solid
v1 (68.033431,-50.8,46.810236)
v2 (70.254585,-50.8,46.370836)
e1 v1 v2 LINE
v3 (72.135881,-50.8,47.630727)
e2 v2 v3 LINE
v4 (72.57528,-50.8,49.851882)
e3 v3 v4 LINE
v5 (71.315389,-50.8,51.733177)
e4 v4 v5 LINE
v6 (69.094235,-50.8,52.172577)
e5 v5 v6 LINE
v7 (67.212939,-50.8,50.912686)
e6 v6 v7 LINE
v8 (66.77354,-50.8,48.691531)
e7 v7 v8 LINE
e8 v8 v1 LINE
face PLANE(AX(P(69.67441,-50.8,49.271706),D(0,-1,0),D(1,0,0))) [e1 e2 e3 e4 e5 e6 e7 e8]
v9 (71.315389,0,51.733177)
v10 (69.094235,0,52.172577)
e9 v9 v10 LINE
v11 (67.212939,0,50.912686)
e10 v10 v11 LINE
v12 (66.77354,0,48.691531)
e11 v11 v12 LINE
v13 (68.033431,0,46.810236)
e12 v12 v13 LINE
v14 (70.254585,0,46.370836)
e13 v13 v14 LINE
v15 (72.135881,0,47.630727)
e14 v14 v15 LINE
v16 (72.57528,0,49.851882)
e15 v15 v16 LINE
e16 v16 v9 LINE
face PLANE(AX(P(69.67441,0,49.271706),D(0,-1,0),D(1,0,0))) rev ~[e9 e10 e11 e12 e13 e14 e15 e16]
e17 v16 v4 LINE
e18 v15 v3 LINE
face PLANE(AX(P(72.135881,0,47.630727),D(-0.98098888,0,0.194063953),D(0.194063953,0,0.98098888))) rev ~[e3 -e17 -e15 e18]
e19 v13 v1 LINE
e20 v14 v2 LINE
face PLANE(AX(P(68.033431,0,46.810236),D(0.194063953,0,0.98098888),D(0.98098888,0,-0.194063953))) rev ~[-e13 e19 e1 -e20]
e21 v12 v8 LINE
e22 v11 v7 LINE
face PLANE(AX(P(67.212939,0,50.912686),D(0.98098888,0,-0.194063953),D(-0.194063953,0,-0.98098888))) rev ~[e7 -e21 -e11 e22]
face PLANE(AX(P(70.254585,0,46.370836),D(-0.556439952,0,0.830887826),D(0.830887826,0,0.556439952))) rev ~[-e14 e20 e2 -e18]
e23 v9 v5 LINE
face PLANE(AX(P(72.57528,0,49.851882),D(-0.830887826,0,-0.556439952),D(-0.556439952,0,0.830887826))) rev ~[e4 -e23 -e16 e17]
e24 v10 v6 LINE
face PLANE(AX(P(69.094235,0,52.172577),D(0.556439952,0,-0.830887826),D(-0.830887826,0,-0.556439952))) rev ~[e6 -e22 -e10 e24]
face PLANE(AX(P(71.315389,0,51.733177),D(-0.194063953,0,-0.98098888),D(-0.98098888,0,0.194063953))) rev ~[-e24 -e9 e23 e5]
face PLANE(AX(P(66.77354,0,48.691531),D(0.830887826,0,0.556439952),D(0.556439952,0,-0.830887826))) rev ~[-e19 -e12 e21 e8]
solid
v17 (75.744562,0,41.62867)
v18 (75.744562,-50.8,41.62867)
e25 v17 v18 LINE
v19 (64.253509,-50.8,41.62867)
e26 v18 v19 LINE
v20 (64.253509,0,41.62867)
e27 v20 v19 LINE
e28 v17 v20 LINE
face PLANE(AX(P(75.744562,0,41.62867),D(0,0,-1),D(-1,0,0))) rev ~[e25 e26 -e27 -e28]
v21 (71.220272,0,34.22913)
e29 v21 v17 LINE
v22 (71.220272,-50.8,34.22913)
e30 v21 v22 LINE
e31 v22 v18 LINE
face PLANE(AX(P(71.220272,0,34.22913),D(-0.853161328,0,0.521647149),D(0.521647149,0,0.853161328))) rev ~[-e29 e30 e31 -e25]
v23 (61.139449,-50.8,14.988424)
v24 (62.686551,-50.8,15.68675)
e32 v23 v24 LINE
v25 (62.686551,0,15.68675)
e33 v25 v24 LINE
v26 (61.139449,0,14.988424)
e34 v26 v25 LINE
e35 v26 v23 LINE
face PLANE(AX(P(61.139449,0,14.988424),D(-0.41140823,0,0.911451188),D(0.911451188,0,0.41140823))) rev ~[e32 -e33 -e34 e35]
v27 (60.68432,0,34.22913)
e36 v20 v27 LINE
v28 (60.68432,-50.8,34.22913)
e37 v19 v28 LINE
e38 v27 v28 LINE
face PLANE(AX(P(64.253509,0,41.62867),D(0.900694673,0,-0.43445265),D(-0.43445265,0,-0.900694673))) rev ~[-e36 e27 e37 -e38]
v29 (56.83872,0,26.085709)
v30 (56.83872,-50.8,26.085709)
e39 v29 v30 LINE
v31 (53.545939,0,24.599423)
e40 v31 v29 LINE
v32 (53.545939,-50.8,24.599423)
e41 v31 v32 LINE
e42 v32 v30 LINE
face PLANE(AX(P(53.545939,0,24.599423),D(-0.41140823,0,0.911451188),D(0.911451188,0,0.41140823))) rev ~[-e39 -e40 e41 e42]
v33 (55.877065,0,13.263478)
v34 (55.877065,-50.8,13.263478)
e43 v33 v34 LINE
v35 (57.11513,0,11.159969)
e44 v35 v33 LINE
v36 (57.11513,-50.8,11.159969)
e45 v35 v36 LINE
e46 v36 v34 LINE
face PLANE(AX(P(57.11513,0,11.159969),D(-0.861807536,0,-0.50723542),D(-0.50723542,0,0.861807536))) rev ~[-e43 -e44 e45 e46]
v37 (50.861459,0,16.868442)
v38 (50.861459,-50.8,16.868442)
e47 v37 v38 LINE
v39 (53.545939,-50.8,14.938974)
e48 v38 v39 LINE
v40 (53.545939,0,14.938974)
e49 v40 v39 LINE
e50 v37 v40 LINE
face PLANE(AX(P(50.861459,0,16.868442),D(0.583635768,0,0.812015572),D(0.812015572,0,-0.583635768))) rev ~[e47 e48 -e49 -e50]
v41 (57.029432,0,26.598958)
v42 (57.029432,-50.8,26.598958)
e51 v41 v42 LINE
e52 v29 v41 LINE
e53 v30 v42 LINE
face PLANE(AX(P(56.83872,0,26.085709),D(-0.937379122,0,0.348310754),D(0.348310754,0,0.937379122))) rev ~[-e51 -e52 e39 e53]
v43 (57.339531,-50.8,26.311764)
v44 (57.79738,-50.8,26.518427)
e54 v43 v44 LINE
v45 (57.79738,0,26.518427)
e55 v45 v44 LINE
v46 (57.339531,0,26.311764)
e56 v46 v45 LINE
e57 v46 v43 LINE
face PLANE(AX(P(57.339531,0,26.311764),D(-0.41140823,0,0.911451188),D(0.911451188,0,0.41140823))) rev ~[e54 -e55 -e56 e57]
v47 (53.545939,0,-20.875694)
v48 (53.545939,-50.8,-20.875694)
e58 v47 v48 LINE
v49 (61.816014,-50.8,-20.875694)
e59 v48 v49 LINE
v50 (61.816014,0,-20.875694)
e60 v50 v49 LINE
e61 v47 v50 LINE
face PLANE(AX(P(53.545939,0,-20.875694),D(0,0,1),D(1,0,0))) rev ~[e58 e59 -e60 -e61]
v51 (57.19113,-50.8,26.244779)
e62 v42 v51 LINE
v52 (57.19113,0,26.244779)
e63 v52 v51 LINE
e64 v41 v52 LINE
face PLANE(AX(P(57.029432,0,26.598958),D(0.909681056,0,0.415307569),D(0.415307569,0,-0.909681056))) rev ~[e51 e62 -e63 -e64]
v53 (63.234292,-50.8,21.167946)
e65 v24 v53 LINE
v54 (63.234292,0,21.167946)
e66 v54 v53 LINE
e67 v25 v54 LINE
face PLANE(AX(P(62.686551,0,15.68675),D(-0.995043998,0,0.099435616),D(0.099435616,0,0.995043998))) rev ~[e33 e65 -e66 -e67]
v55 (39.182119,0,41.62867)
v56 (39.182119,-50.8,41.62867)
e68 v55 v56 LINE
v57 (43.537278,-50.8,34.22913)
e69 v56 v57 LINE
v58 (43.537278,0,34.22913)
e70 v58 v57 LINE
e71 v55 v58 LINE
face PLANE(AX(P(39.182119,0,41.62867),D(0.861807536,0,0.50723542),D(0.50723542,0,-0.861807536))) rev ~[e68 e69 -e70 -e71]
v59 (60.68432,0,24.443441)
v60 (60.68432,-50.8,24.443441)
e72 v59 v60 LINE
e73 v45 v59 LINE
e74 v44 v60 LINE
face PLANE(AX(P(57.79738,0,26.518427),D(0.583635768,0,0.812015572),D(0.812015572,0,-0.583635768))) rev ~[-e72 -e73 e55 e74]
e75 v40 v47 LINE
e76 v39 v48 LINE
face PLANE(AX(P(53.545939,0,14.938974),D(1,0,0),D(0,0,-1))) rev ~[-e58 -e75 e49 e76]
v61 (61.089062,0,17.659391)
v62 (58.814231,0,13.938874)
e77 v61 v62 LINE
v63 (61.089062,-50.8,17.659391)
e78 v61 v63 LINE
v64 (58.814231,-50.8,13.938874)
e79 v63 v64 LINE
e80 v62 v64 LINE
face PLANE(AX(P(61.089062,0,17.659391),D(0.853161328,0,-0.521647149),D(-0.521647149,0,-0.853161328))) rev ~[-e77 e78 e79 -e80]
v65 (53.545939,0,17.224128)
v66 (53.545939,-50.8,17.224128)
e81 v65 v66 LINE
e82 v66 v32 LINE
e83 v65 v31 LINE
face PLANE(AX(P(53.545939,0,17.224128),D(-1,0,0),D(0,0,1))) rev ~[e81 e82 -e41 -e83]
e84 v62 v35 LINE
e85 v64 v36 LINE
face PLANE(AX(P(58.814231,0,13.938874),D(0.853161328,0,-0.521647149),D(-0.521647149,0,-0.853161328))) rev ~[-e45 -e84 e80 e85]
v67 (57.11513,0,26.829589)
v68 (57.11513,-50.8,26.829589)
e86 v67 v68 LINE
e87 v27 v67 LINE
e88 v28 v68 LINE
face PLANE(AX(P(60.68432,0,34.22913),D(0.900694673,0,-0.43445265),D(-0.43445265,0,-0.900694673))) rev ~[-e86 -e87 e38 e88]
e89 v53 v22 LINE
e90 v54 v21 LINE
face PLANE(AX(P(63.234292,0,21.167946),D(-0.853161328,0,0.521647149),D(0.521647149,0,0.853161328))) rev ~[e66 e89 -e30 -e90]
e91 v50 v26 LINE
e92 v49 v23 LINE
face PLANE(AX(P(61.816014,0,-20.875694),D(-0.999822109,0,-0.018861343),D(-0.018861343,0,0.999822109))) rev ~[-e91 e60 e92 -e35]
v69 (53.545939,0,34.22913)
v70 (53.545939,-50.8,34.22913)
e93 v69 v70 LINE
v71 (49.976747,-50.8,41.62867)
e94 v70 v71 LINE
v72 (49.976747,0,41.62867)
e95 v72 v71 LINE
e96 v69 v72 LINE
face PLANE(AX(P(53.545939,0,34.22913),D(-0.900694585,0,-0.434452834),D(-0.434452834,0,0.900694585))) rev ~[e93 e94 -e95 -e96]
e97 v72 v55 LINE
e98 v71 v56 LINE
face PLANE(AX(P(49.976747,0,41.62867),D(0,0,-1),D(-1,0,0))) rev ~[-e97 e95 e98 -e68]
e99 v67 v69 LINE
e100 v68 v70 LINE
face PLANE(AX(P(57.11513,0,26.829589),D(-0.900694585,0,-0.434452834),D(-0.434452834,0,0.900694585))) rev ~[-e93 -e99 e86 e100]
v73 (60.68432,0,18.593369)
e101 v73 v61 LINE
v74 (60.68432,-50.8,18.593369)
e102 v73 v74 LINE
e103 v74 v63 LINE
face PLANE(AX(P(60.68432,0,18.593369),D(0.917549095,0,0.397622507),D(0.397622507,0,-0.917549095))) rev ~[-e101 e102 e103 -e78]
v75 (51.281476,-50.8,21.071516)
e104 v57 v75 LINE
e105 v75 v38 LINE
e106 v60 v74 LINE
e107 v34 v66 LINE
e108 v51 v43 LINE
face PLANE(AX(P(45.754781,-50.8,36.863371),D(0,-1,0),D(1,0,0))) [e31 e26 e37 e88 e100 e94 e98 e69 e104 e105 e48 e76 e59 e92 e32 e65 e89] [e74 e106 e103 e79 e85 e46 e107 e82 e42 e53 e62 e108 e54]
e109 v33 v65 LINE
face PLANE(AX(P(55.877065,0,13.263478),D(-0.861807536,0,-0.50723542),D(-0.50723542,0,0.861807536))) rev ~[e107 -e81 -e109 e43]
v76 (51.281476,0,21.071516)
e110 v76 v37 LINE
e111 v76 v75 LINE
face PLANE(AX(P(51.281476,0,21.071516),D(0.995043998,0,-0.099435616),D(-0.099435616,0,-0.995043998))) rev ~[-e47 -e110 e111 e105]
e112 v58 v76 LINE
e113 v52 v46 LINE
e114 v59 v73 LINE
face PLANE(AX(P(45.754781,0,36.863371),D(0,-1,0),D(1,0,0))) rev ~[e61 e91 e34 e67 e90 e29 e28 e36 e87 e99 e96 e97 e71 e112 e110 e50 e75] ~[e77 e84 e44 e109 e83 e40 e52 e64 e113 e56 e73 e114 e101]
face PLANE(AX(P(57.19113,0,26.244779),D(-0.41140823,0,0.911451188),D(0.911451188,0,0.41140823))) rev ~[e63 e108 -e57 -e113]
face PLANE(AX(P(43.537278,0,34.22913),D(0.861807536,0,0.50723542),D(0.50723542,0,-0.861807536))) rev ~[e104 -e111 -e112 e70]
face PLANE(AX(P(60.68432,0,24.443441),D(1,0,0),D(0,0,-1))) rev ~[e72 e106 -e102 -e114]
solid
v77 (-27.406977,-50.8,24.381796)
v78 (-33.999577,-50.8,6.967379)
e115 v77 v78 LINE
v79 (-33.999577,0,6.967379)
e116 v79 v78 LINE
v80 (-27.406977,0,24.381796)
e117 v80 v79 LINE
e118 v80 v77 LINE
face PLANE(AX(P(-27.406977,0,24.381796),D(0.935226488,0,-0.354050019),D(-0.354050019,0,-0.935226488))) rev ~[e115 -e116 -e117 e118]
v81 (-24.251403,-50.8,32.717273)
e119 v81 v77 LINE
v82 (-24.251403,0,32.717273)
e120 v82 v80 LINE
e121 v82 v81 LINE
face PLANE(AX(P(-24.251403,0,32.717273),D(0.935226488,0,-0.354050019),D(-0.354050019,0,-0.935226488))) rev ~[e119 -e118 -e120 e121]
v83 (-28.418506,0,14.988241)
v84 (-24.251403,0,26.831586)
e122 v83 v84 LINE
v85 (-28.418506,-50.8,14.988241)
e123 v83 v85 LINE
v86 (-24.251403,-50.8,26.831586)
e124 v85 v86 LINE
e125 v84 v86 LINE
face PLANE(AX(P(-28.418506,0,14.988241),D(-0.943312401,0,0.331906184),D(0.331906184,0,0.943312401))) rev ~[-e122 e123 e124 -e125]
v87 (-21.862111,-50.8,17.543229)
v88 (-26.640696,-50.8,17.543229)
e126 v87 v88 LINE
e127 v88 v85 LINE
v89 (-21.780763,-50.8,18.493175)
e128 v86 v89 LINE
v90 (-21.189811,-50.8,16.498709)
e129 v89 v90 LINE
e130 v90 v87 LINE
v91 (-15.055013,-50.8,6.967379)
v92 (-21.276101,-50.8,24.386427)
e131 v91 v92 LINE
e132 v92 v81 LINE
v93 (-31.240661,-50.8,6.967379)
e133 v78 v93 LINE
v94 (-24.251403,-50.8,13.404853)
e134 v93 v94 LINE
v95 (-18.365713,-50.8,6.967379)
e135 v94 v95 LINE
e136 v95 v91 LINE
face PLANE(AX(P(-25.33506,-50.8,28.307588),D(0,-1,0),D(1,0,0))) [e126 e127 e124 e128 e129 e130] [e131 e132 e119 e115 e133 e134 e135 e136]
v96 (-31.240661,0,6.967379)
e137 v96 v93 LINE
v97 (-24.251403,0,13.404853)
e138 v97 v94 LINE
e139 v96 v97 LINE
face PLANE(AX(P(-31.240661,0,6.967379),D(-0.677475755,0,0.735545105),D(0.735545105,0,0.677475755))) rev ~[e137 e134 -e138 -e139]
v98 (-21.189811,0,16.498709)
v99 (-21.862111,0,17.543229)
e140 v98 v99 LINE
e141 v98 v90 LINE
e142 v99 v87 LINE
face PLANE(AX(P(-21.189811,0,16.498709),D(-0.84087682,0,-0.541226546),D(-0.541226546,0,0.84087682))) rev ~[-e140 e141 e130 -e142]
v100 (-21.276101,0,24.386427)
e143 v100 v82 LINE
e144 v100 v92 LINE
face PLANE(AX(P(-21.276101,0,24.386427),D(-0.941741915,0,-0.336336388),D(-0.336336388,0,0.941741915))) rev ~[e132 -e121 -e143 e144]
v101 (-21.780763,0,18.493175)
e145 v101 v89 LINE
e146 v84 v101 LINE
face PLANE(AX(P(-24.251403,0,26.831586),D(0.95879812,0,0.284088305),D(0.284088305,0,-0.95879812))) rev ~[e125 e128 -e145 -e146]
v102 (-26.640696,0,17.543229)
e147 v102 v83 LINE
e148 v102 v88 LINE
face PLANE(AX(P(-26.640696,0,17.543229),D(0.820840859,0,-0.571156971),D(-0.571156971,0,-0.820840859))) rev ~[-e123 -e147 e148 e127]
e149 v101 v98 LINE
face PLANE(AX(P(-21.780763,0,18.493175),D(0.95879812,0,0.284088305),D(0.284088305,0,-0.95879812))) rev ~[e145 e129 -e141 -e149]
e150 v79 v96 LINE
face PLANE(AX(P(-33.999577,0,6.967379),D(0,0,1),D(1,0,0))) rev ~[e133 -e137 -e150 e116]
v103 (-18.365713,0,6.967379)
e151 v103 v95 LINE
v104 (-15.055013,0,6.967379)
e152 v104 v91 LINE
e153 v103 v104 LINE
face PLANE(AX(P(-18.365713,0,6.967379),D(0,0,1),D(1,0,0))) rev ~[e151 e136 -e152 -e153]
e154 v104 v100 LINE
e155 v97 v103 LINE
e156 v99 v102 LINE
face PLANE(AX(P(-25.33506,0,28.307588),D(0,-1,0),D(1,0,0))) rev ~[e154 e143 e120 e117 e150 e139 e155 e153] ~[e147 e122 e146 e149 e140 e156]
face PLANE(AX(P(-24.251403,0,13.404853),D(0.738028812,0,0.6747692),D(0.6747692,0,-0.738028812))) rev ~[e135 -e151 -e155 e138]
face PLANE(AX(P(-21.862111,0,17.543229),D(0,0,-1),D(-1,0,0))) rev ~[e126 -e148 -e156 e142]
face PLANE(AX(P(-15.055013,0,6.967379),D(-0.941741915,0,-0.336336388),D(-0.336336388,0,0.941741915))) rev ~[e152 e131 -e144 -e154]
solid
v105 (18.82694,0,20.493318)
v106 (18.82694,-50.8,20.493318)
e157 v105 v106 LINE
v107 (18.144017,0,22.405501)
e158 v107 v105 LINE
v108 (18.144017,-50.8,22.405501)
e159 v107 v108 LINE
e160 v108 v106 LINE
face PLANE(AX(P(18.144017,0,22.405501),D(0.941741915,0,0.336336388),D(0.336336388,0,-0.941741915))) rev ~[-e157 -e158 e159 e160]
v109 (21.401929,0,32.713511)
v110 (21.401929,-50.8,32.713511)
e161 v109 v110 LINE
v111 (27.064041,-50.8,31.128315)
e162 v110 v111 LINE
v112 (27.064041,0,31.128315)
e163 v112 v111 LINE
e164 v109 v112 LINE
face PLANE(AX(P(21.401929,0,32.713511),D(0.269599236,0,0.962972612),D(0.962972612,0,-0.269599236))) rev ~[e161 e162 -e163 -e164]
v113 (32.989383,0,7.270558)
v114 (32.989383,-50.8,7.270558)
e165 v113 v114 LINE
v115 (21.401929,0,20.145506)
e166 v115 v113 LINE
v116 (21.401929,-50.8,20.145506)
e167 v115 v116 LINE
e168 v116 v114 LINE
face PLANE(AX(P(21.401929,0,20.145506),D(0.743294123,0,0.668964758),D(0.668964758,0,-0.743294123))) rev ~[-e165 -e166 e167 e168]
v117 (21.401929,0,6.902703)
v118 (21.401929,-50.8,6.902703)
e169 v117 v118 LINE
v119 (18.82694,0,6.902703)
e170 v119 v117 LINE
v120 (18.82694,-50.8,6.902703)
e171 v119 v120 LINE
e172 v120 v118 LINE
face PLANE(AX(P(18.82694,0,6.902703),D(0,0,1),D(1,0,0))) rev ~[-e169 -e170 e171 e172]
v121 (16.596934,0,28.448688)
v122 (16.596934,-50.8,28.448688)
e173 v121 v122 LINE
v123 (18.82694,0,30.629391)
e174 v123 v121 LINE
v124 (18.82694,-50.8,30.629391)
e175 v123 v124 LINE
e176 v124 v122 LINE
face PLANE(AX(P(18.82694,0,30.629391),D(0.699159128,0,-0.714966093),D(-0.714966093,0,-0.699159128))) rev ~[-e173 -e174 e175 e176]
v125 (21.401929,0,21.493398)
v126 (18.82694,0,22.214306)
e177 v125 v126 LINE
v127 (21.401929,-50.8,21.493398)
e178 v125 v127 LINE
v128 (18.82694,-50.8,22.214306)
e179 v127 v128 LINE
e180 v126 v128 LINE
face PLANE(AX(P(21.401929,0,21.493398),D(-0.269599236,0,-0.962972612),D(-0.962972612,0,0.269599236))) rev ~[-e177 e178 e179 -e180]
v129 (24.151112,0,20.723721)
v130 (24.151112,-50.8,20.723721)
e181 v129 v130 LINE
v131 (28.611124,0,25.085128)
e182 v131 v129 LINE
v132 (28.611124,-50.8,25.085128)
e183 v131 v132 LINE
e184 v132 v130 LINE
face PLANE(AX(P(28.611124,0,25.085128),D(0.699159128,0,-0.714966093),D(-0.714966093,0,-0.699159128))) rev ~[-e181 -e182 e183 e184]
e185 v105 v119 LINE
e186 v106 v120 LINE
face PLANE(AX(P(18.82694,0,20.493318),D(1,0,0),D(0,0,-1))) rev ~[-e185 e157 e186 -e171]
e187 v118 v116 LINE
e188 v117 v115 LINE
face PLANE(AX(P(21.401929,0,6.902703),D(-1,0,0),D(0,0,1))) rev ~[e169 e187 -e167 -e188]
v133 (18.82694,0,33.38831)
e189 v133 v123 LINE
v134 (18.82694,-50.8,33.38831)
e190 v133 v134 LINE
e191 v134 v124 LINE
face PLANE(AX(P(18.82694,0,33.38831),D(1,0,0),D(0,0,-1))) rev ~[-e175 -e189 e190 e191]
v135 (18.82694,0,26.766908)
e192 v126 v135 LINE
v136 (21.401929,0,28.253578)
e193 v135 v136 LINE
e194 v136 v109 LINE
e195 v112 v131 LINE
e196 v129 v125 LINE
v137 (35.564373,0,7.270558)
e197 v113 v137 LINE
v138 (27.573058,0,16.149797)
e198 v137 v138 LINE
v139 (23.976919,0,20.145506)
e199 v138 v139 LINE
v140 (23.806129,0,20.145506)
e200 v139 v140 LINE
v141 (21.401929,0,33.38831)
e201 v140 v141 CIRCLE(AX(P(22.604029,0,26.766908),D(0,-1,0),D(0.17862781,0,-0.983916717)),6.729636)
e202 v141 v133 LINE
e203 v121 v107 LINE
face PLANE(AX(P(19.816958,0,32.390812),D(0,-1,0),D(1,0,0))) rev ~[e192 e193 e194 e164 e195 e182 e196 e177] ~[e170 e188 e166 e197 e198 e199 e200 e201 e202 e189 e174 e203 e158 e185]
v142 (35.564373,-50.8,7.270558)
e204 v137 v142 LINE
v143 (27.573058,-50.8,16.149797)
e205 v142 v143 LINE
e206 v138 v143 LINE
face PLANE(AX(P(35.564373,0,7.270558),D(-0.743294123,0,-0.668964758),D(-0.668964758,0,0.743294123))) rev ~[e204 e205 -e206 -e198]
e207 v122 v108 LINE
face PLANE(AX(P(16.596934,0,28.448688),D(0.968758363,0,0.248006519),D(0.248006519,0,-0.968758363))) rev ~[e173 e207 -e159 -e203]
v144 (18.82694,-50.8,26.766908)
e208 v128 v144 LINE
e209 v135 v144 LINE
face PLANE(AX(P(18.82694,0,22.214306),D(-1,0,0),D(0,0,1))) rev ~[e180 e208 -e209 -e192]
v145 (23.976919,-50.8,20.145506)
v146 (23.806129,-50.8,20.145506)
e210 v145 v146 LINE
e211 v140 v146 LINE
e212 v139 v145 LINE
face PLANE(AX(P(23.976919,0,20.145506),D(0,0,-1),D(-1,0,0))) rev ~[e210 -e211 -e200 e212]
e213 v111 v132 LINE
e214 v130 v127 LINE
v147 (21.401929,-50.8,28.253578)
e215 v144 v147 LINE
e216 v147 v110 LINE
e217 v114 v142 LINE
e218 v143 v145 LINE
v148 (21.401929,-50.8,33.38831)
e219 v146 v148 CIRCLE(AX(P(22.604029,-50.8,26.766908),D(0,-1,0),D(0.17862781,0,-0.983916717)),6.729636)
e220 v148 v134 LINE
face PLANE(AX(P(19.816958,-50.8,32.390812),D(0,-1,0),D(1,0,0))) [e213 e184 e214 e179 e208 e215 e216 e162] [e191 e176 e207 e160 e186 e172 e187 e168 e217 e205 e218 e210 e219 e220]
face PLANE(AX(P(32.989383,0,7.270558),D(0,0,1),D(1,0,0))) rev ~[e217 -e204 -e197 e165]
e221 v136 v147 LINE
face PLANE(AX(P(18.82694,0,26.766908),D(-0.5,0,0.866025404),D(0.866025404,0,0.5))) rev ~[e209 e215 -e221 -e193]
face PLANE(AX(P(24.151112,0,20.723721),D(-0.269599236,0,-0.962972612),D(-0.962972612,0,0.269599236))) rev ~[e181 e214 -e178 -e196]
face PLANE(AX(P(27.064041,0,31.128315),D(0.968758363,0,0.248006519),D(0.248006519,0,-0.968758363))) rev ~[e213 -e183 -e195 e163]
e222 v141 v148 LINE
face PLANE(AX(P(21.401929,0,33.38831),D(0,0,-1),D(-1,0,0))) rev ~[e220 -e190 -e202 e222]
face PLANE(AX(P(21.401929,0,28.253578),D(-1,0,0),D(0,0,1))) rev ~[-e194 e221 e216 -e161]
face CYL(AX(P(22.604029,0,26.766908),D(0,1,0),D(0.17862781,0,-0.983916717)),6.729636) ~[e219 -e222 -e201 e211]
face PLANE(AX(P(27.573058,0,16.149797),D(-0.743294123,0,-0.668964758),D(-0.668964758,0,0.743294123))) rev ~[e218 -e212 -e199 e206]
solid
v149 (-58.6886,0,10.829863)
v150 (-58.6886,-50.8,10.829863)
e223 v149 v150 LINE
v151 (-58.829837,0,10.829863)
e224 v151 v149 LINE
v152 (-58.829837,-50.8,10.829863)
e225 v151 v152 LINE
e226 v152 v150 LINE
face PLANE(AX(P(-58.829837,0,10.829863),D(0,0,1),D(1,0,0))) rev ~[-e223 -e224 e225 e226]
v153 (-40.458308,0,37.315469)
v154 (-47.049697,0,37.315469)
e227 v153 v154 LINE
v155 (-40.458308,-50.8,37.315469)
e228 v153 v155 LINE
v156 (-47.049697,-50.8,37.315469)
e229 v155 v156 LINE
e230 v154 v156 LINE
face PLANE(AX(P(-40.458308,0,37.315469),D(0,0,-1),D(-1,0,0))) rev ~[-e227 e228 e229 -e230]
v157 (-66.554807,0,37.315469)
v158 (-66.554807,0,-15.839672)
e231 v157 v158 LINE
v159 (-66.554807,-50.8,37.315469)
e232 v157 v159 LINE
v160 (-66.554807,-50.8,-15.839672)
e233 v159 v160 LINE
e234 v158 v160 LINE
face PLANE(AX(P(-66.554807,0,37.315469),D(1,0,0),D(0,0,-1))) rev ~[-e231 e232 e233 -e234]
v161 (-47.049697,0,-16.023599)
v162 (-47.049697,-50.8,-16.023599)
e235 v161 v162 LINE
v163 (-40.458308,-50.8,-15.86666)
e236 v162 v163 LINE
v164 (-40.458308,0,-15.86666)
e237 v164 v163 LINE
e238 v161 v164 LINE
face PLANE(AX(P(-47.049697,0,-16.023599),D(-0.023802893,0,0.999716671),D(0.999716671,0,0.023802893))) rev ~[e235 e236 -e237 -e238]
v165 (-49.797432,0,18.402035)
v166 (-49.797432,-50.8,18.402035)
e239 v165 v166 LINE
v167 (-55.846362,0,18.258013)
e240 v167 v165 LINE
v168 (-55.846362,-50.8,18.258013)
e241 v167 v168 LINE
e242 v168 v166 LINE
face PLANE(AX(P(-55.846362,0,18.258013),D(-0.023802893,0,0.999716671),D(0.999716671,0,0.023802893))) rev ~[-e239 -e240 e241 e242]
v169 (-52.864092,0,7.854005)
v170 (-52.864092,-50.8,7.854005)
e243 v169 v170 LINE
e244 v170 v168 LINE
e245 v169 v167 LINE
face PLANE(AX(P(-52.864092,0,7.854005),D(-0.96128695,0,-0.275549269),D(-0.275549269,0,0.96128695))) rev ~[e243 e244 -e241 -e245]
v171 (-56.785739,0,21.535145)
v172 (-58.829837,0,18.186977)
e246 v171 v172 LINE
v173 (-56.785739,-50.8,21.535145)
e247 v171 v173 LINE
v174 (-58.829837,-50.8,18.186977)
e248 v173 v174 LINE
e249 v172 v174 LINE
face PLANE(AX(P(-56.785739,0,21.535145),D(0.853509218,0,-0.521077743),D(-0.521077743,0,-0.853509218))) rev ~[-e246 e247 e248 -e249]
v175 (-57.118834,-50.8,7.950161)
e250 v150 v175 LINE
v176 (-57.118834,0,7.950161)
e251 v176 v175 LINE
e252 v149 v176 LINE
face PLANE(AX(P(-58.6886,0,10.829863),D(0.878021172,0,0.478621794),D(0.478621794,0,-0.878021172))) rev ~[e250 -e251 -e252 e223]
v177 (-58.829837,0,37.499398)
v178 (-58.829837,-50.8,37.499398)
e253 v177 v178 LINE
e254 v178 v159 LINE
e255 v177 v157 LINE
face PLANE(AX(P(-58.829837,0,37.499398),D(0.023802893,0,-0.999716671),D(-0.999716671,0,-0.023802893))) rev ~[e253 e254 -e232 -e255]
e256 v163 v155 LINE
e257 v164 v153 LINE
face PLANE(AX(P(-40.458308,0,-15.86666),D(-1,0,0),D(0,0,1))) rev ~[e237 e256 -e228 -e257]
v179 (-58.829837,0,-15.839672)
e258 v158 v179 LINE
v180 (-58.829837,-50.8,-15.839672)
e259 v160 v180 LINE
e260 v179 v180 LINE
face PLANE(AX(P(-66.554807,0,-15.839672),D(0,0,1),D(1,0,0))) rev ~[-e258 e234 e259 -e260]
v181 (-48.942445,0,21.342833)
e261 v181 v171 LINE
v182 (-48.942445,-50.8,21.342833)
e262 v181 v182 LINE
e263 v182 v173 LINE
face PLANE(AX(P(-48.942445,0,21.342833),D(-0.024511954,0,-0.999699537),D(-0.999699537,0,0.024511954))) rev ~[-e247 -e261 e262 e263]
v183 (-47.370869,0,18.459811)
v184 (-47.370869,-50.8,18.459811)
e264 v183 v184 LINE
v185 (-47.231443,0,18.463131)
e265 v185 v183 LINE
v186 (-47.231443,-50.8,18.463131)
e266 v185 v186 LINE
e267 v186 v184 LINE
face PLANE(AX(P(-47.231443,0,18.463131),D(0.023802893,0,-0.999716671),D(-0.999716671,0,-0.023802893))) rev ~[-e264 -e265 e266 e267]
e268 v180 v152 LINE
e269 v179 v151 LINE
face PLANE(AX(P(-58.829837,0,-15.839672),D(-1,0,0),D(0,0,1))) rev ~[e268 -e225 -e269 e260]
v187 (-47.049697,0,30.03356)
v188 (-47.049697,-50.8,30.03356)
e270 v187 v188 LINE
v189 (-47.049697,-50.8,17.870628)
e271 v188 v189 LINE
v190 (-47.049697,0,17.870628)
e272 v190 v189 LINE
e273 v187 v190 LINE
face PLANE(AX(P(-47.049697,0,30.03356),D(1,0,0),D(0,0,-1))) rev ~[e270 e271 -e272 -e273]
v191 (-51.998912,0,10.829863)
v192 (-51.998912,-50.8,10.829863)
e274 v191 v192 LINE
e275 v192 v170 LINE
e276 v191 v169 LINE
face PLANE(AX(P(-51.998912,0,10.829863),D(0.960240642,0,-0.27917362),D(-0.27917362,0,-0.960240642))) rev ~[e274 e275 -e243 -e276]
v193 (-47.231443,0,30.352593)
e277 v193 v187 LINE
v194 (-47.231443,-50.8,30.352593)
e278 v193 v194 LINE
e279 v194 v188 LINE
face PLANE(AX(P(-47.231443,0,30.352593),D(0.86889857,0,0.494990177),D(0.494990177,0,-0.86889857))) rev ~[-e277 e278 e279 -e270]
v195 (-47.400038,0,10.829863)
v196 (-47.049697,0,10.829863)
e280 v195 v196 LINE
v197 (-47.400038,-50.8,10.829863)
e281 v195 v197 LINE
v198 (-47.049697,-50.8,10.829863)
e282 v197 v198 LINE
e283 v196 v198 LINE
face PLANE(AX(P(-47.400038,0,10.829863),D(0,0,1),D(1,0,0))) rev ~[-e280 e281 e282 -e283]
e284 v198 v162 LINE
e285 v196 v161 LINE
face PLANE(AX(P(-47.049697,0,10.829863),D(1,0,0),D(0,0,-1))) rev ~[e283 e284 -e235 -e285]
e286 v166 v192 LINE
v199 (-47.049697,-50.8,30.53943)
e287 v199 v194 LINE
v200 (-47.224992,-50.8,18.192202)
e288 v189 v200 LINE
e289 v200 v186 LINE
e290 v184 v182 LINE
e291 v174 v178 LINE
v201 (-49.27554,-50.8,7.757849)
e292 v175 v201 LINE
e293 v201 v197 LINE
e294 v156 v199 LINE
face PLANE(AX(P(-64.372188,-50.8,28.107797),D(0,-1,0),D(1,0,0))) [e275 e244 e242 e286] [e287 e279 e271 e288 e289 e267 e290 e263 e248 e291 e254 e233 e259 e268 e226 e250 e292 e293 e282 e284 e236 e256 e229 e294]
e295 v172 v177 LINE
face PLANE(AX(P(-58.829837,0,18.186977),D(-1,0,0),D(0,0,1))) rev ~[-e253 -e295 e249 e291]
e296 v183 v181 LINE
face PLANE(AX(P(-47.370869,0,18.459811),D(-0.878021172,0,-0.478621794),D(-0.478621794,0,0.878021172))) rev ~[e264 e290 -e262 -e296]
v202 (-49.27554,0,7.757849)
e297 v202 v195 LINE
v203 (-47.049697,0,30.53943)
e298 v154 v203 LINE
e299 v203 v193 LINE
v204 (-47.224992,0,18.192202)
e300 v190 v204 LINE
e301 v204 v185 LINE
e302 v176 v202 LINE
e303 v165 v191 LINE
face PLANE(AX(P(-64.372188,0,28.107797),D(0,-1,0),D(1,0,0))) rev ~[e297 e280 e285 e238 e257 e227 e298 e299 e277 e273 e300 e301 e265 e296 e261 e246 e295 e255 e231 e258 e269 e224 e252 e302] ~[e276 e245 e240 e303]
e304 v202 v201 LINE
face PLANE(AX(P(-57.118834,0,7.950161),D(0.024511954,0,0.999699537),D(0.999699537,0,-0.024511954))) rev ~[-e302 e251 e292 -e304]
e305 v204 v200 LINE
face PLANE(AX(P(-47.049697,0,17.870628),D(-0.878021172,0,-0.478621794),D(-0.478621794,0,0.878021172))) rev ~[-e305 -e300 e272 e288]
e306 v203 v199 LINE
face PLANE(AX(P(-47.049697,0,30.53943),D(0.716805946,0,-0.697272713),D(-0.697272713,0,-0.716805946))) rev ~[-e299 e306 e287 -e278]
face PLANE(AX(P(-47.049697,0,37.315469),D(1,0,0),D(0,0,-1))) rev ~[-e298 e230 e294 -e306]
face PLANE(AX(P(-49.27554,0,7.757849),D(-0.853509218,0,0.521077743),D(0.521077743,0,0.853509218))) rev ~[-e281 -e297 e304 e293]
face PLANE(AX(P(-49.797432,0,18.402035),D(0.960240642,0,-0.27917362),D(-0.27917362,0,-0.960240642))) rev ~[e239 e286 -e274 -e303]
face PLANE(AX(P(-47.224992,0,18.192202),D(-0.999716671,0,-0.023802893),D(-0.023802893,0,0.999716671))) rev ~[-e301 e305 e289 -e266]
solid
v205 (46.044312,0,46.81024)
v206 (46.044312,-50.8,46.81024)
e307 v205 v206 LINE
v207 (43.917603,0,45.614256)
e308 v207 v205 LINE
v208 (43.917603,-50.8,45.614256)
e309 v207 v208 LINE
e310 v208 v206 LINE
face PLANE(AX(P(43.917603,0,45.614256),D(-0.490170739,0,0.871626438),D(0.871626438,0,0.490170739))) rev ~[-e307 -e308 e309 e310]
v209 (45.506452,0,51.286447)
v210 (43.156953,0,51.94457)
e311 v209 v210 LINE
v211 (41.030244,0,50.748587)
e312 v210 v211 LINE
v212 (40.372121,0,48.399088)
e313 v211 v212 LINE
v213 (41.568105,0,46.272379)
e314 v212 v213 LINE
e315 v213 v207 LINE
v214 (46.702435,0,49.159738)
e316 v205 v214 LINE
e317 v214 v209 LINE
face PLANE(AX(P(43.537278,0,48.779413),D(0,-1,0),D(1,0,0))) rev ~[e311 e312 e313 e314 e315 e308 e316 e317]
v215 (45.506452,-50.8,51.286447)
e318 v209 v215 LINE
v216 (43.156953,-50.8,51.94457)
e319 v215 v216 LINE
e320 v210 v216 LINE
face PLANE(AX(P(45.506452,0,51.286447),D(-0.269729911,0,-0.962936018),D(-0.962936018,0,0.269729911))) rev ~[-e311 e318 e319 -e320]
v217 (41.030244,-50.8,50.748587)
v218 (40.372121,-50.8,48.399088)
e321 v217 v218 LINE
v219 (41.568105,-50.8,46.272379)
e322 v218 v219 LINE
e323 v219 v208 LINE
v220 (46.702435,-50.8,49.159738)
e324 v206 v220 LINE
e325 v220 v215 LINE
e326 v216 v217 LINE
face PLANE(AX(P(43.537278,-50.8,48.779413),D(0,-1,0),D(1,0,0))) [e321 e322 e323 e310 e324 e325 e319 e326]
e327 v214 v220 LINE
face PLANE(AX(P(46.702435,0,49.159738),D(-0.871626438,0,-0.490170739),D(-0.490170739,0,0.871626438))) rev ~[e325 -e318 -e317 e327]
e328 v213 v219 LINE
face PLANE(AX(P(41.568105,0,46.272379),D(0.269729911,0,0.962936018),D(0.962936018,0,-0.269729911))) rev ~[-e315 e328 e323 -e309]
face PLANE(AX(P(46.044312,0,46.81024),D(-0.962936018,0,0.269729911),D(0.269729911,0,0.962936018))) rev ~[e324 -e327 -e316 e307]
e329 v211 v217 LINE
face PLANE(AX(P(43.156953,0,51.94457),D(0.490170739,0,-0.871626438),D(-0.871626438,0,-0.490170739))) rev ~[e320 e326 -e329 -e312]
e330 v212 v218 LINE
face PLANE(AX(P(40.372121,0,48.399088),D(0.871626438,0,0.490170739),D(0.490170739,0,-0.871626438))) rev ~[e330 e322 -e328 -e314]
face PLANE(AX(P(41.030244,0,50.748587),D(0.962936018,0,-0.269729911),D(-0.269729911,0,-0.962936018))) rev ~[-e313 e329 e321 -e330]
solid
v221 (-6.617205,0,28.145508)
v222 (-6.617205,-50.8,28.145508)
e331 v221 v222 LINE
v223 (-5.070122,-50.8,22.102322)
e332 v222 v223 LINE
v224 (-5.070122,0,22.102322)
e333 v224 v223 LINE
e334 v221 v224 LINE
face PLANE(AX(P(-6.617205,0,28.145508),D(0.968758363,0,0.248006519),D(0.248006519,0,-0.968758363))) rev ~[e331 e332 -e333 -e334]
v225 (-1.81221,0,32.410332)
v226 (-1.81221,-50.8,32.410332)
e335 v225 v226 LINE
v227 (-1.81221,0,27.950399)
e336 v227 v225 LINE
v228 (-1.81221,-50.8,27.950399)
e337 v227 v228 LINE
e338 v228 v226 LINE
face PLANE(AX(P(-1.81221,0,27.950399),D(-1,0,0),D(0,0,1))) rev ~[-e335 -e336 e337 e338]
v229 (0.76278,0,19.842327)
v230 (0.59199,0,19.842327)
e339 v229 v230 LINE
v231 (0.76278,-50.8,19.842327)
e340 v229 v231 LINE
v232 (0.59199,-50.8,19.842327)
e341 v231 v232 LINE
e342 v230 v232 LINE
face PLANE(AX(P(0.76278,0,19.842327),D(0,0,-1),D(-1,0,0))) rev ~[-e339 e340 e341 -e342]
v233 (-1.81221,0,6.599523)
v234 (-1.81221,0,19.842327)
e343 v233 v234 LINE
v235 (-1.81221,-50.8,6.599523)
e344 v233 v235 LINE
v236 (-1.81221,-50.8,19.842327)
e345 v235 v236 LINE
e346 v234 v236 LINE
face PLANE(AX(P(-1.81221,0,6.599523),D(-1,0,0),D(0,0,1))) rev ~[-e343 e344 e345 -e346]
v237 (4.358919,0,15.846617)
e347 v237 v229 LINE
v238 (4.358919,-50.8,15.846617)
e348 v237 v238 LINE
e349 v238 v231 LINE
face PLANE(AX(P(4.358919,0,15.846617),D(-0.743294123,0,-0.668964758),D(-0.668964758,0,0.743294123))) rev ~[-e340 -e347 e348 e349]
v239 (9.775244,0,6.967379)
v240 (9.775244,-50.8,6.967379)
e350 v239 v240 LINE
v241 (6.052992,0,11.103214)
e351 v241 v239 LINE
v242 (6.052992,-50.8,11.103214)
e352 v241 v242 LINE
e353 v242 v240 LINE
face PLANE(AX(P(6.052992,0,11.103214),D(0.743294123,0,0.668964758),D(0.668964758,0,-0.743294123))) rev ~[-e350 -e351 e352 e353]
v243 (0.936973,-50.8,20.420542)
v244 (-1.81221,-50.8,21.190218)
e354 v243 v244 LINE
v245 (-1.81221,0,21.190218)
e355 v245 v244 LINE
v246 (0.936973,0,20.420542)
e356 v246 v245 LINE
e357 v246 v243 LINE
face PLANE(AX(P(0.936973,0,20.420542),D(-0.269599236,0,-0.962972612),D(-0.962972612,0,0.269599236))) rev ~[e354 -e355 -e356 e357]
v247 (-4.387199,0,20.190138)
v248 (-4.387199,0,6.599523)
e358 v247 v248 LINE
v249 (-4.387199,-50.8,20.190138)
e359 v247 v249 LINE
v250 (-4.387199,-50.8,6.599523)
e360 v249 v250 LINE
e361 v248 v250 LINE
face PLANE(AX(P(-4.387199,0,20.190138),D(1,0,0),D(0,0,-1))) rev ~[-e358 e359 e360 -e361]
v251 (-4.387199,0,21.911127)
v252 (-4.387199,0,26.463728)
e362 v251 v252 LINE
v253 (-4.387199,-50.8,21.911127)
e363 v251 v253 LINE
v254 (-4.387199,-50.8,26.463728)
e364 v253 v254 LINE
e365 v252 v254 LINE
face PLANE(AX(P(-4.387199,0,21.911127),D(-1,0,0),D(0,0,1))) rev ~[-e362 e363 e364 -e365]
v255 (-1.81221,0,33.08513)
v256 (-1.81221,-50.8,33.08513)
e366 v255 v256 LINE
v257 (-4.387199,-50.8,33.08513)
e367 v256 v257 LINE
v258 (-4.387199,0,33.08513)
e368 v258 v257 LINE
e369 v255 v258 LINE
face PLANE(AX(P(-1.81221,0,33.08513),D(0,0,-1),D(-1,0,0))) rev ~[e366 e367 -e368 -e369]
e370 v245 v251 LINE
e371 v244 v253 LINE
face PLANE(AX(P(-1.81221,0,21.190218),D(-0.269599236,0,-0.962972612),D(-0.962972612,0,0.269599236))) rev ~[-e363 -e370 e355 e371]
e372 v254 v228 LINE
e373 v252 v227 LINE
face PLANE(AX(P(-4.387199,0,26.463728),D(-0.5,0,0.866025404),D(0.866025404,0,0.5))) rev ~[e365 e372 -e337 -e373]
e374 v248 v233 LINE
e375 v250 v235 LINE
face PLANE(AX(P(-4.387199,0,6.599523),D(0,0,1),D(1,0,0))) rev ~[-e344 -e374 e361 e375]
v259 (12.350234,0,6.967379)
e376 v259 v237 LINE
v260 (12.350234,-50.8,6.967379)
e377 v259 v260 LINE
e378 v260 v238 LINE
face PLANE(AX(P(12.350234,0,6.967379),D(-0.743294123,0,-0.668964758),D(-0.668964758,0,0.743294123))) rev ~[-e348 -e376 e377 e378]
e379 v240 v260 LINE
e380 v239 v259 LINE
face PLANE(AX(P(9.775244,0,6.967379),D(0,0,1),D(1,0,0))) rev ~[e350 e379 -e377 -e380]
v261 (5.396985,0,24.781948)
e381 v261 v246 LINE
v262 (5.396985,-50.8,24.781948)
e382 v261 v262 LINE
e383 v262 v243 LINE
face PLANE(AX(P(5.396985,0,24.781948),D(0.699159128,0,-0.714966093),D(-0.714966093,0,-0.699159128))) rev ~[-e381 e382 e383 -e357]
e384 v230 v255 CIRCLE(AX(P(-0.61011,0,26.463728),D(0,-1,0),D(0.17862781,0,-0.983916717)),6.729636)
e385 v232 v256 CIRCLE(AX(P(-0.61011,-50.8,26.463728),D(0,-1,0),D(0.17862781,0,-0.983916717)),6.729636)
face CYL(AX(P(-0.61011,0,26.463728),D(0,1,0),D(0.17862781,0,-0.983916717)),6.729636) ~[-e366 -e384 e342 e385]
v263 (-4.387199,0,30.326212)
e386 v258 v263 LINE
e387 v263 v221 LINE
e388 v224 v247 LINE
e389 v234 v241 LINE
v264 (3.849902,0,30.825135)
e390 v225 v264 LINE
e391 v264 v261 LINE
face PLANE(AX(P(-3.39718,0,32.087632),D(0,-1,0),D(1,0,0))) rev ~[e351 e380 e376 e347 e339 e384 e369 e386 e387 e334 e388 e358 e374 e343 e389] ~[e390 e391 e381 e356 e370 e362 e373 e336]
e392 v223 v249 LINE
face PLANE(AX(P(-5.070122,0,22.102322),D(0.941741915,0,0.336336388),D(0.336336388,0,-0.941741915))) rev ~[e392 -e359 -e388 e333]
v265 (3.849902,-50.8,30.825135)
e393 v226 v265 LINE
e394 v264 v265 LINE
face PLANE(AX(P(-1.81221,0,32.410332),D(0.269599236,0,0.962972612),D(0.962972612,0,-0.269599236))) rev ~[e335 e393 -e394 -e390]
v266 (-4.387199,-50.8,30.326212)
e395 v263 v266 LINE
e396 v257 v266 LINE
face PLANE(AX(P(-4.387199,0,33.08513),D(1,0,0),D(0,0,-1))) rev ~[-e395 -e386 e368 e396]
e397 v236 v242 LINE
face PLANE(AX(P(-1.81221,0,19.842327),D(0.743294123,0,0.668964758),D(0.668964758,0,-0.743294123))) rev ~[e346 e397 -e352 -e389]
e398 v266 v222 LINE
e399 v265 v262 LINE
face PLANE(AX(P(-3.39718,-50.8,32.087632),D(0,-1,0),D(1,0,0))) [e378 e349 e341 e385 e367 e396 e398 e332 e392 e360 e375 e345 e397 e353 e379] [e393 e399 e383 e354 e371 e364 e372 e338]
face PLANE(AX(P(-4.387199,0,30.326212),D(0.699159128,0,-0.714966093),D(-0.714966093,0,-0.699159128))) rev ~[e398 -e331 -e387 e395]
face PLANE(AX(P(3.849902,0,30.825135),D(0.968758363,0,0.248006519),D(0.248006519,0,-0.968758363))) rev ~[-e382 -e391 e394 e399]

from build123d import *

# Parameters (mm, degrees)
F1_DEPTH = 50.8


with BuildPart() as f1:
    # F0 (on Front) → F1 (new body)
    with BuildSketch(Plane.XZ):
        Polygon((-58.8298365474, 29.786439916), (-66.5548071265, 37.3154692352), (-66.5548071265, 18.4631307041), align=None)
        Polygon((-58.8298365474, 37.4993979931), (-66.5548071265, 37.3154692352), (-58.8298365474, 29.786439916), align=None)
        Polygon((-58.8298365474, 10.8298631385), (-66.5548071265, 18.4631307041), (-66.5548071265, 3.0120878626), align=None)
        Polygon((-58.8298365474, 29.786439916), (-66.5548071265, 18.4631307041), (-58.8298365474, 10.8298631385), (-58.8298365474, 11.0889577304), (-60.8739337508, 14.8388091705), (-58.8298365474, 18.1869771332), align=None)
        Polygon((-58.8298365474, -6.2754247338), (-66.5548071265, 3.0120878626), (-66.5548071265, -15.8396717161), align=None)
        Polygon((-58.8298365474, 10.8298631385), (-66.5548071265, 3.0120878626), (-58.8298365474, -6.2754247338), align=None)
        Polygon((-58.8298365474, 11.0889577304), (-58.8298365474, 10.8298631385), (-58.6886004107, 10.8298631385), align=None)
        Polygon((-55.8463617032, 18.2580125911), (-58.8298365474, 18.1869771332), (-58.8298365474, 11.0889577304), (-58.6886004107, 10.8298631385), (-53.7171107503, 10.8298631385), align=None)
        Polygon((-56.785739344, 21.5351450958), (-58.8298365474, 18.1869771332), (-55.8463617032, 18.2580125911), align=None)
        Polygon((-58.8298365474, 11.0889577304), (-58.8298365474, 18.1869771332), (-60.8739337508, 14.8388091705), align=None)
        Polygon((-58.8298365474, -6.2754247338), (-66.5548071265, -15.8396717161), (-58.8298365474, -15.8396717161), align=None)
        Polygon((-53.7171107503, 10.8298631385), (-58.6886004107, 10.8298631385), (-57.1188339306, 7.9501609961), (-49.2755397037, 7.7578487468), (-47.4000376092, 10.8298631385), (-51.9989120974, 10.8298631385), (-52.8640922305, 7.8540048714), align=None)
        Polygon((-56.785739344, 21.5351450958), (-55.8463617032, 18.2580125911), (-49.7974319066, 18.4020354236), (-48.9424451171, 21.3428328465), align=None)
        Polygon((-48.9424451171, 21.3428328465), (-49.7974319066, 18.4020354236), (-47.3708690241, 18.4598110089), align=None)
        Polygon((-47.3708690241, 18.4598110089), (-49.7974319066, 18.4020354236), (-51.9989120974, 10.8298631385), (-47.4000376092, 10.8298631385), (-47.0628473915, 11.3821702804), (-47.2249917962, 18.1922024371), align=None)
        Polygon((-47.2314425003, 18.4631307041), (-47.3708690241, 18.4598110089), (-47.2249917962, 18.1922024371), align=None)
        Polygon((-47.0628473915, 11.3821702804), (-47.4000376092, 10.8298631385), (-47.049697158, 10.8298631385), align=None)
        Polygon((-47.049697158, 17.8706282721), (-47.2249917962, 18.1922024371), (-47.0628473915, 11.3821702804), (-47.049697158, 11.4037099558), align=None)
        Polygon((-40.4583076052, 5.1381438499), (-47.049697158, 10.8298631385), (-47.049697158, -5.723641254), align=None)
        Polygon((-47.0628473915, 11.3821702804), (-47.049697158, 10.8298631385), (-47.049697158, 11.4037099558), align=None)
        Polygon((-47.049697158, 11.4037099558), (-47.049697158, 10.8298631385), (-40.4583076052, 18.4631307041), (-47.049697158, 30.0335602085), (-47.049697158, 17.8706282721), (-45.187345297, 14.454184672), align=None)
        Polygon((-40.4583076052, 18.4631307041), (-47.049697158, 10.8298631385), (-40.4583076052, 5.1381438499), align=None)
        Polygon((-45.187345297, 14.454184672), (-47.049697158, 17.8706282721), (-47.049697158, 11.4037099558), align=None)
        Polygon((-40.4583076052, -15.866660008), (-47.049697158, -5.723641254), (-47.049697158, -16.0235986114), align=None)
        Polygon((-40.4583076052, 5.1381438499), (-47.049697158, -5.723641254), (-40.4583076052, -15.866660008), align=None)
        Polygon((-47.049697158, 30.0335602085), (-40.4583076052, 18.4631307041), (-40.4583076052, 37.3154692352), (-47.049697158, 30.5394300565), align=None)
        Polygon((-47.2314425003, 30.3525933432), (-47.049697158, 30.0335602085), (-47.049697158, 30.5394300565), align=None)
        Polygon((-47.049697158, 30.5394300565), (-40.4583076052, 37.3154692352), (-47.049697158, 37.3154692352), align=None)
    extrude(amount=F1_DEPTH)


with BuildPart() as f1b:
    # F0 (on Front) → F1, piece 2 (new body)
    with BuildSketch(Plane.XZ):
        Polygon((-24.2514032871, 26.8315859139), (-24.2514032871, 32.7172726393), (-27.4069766335, 24.3817956818), align=None)
        Polygon((-21.2761012771, 24.3864267705), (-24.2514032871, 32.7172726393), (-24.2514032871, 26.8315859139), align=None)
        Polygon((-26.852971582, 19.437654277), (-27.4069766335, 24.3817956818), (-33.9995771646, 6.9673787802), (-28.4185056166, 14.9882413403), align=None)
        Polygon((-24.2514032871, 26.8315859139), (-27.4069766335, 24.3817956818), (-26.852971582, 19.437654277), align=None)
        Polygon((-21.7807631904, 18.4931748057), (-21.2761012771, 24.3864267705), (-24.2514032871, 26.8315859139), align=None)
        Polygon((-15.0550128892, 6.9673787802), (-21.2761012771, 24.3864267705), (-21.7807631904, 18.4931748057), (-21.189810511, 16.4987093259), align=None)
        Polygon((-28.4185056166, 14.9882413403), (-33.9995771646, 6.9673787802), (-31.2406606972, 6.9673787802), align=None)
        Polygon((-18.3657128364, 6.9673787802), (-15.0550128892, 6.9673787802), (-21.189810511, 16.4987093259), align=None)
        Polygon((-28.4185056166, 14.9882413403), (-31.2406606972, 6.9673787802), (-24.2514032871, 13.4048527107), (-26.6406958413, 17.5432288088), align=None)
        Polygon((-21.8621107328, 17.5432288088), (-26.6406958413, 17.5432288088), (-24.2514032871, 13.4048527107), align=None)
        Polygon((-24.2514032871, 13.4048527107), (-18.3657128364, 6.9673787802), (-21.189810511, 16.4987093259), (-21.8621107328, 17.5432288088), align=None)
    extrude(amount=F1_DEPTH)


with BuildPart() as f1c:
    # F0 (on Front) → F1, piece 3 (new body)
    with BuildSketch(Plane.XZ):
        Polygon((-1.8122101901, 33.0851301551), (-4.3871989474, 33.0851301551), (-4.3871989474, 30.326211825), (-2.1571931011, 32.5069151583), (-1.8122101901, 32.4103317998), align=None)
        Polygon((-2.1571931011, 32.5069151583), (-4.3871989474, 30.326211825), (-4.3871989474, 26.4637283981), (-1.8122101901, 27.9503988502), (-1.8122101901, 32.4103317998), align=None)
        Polygon((-4.3871989474, 26.4637283981), (-4.3871989474, 30.326211825), (-6.6172047936, 28.1455084917), (-5.0701216704, 22.1023217315), (-4.3871989474, 21.91112684), align=None)
        with BuildLine():
            ThreePointArc((0.5919902344, 19.8423266411), (6.0112917792, 27.6658286104), (-1.8122101901, 33.0851301551))
            Line((-1.8122101901, 33.0851301551), (-1.8122101901, 32.4103317998))
            Line((-1.8122101901, 32.4103317998), (3.8499017147, 30.8251350647))
            Line((3.8499017147, 30.8251350647), (5.396984838, 24.7819483045))
            Line((5.396984838, 24.7819483045), (0.9369731454, 20.4205416378))
            Line((0.9369731454, 20.4205416378), (-1.8122101901, 21.1902184865))
            Line((-1.8122101901, 21.1902184865), (-1.8122101901, 19.8423266411))
            Line((-1.8122101901, 19.8423266411), (0.5919902344, 19.8423266411))
        make_face()
        with BuildLine():
            Line((0.7627803134, 19.8423266411), (0.5919902344, 19.8423266411))
            ThreePointArc((0.5919902344, 19.8423266411), (-0.6101099778, 19.7340919928), (-1.8122101901, 19.8423266411))
            Line((-1.8122101901, 19.8423266411), (4.3589192338, 15.8466170106))
            Line((4.3589192338, 15.8466170106), (0.7627803134, 19.8423266411))
        make_face()
        with BuildLine():
            ThreePointArc((-1.8122101901, 19.8423266411), (-0.6101099778, 19.7340919928), (0.5919902344, 19.8423266411))
            Line((0.5919902344, 19.8423266411), (-1.8122101901, 19.8423266411))
        make_face()
        Polygon((-1.8122101901, 21.1902184865), (-4.3871989474, 21.91112684), (-4.3871989474, 20.1901380517), (-1.8122101901, 12.9801693227), (-1.8122101901, 19.8423266411), align=None)
        Polygon((-4.3871989474, 20.1901380517), (-4.3871989474, 21.91112684), (-5.0701216704, 22.1023217315), align=None)
        Polygon((4.3589192338, 15.8466170106), (-1.8122101901, 19.8423266411), (6.0529916546, 11.1032140948), align=None)
        Polygon((-1.8122101901, 12.9801693227), (-4.3871989474, 20.1901380517), (-4.3871989474, 6.5995231271), align=None)
        Polygon((-1.8122101901, 6.5995231271), (-1.8122101901, 12.9801693227), (-4.3871989474, 6.5995231271), align=None)
        Polygon((12.350234203, 6.9673787802), (6.0529916546, 11.1032140948), (9.7752436996, 6.9673787802), align=None)
        Polygon((4.3589192338, 15.8466170106), (6.0529916546, 11.1032140948), (12.350234203, 6.9673787802), align=None)
    extrude(amount=F1_DEPTH)


with BuildPart() as f1d:
    # F0 (on Front) → F1, piece 4 (new body)
    with BuildSketch(Plane.XZ):
        Polygon((21.4019286279, 33.388309678), (18.8269398706, 33.388309678), (18.8269398706, 30.6293913479), (21.0569457169, 32.8100946813), (21.4019286279, 32.7135113227), align=None)
        Polygon((21.0569457169, 32.8100946813), (18.8269398706, 30.6293913479), (18.8269398706, 26.766907921), (21.4019286279, 28.2535783732), (21.4019286279, 32.7135113227), align=None)
        Polygon((18.8269398706, 26.766907921), (18.8269398706, 30.6293913479), (16.5969340243, 28.4486880146), (18.1440171476, 22.4055012544), (18.8269398706, 22.214306363), align=None)
        with BuildLine():
            ThreePointArc((23.8061290524, 20.145506164), (29.2254305972, 27.9690081333), (21.4019286279, 33.388309678))
            Line((21.4019286279, 33.388309678), (21.4019286279, 32.7135113227))
            Line((21.4019286279, 32.7135113227), (27.0640405327, 31.1283145876))
            Line((27.0640405327, 31.1283145876), (28.611123656, 25.0851278274))
            Line((28.611123656, 25.0851278274), (24.1511119634, 20.7237211608))
            Line((24.1511119634, 20.7237211608), (21.4019286279, 21.4933980094))
            Line((21.4019286279, 21.4933980094), (21.4019286279, 20.145506164))
            Line((21.4019286279, 20.145506164), (23.8061290524, 20.145506164))
        make_face()
        with BuildLine():
            Line((23.9769191314, 20.145506164), (23.8061290524, 20.145506164))
            ThreePointArc((23.8061290524, 20.145506164), (22.6040288402, 20.0372715157), (21.4019286279, 20.145506164))
            Line((21.4019286279, 20.145506164), (27.5730580518, 16.1497965335))
            Line((27.5730580518, 16.1497965335), (23.9769191314, 20.145506164))
        make_face()
        with BuildLine():
            ThreePointArc((21.4019286279, 20.145506164), (22.6040288402, 20.0372715157), (23.8061290524, 20.145506164))
            Line((23.8061290524, 20.145506164), (21.4019286279, 20.145506164))
        make_face()
        Polygon((21.4019286279, 21.4933980094), (18.8269398706, 22.214306363), (18.8269398706, 20.4933175746), (21.4019286279, 13.2833488456), (21.4019286279, 20.145506164), align=None)
        Polygon((18.8269398706, 20.4933175746), (18.8269398706, 22.214306363), (18.1440171476, 22.4055012544), align=None)
        Polygon((27.5730580518, 16.1497965335), (21.4019286279, 20.145506164), (29.2671304726, 11.4063936178), align=None)
        Polygon((21.4019286279, 13.2833488456), (18.8269398706, 20.4933175746), (18.8269398706, 6.90270265), align=None)
        Polygon((21.4019286279, 6.90270265), (21.4019286279, 13.2833488456), (18.8269398706, 6.90270265), align=None)
        Polygon((35.564373021, 7.2705583032), (29.2671304726, 11.4063936178), (32.9893825175, 7.2705583032), align=None)
        Polygon((27.5730580518, 16.1497965335), (29.2671304726, 11.4063936178), (35.564373021, 7.2705583032), align=None)
    extrude(amount=F1_DEPTH)


with BuildPart() as f1e:
    # F0 (on Front) → F1, piece 5 (new body)
    with BuildSketch(Plane.XZ):
        Polygon((53.5459388047, 34.2291295528), (39.1821190715, 41.6286699474), (43.5372782257, 34.2291295528), align=None)
        Polygon((49.976747483, 41.6286699474), (39.1821190715, 41.6286699474), (53.5459388047, 34.2291295528), align=None)
        Polygon((53.5459388047, 34.2291295528), (43.5372782257, 34.2291295528), (51.2814756196, 21.0715159248), (51.5437088907, 23.6956626177), (53.5459388047, 24.599423428), align=None)
        Polygon((57.1151301265, 26.8295891583), (53.5459388047, 34.2291295528), (57.029432304, 26.5989578941), align=None)
        Polygon((57.029432304, 26.5989578941), (53.5459388047, 34.2291295528), (53.5459388047, 24.599423428), (56.8387197767, 26.0857094825), align=None)
        Polygon((51.5437088907, 23.6956626177), (51.2814756196, 21.0715159248), (53.5459388047, 17.2241279839), (53.5459388047, 24.599423428), align=None)
        Polygon((53.5459388047, 17.2241279839), (51.2814756196, 21.0715159248), (50.8614587952, 16.8684422409), (53.5459388047, 14.9389736363), align=None)
        Polygon((60.6843195856, 34.2291295528), (57.1151301265, 26.8295891583), (57.3395310288, 26.3117642327), (57.797380222, 26.5184268916), (60.6843195856, 24.4434407321), align=None)
        Polygon((57.3395310288, 26.3117642327), (57.1151301265, 26.8295891583), (57.029432304, 26.5989578941), (57.1911297067, 26.2447792685), align=None)
        Polygon((55.8770647699, 13.2634780665), (53.5459388047, 17.2241279839), (53.5459388047, 14.9389736363), align=None)
        Polygon((64.2535090446, 41.6286699474), (60.6843195856, 34.2291295528), (75.744561851, 41.6286699474), align=None)
        Polygon((71.2202719889, 34.2291295528), (60.6843195856, 34.2291295528), (60.6843195856, 24.4434407321), (63.3688014578, 22.5139707888), (63.2342919986, 21.1679457361), align=None)
        Polygon((75.744561851, 41.6286699474), (60.6843195856, 34.2291295528), (71.2202719889, 34.2291295528), align=None)
        Polygon((57.1151301265, 11.1599694937), (55.8770647699, 13.2634780665), (53.5459388047, 14.9389736363), (53.5459388047, -20.8756942302), align=None)
        Polygon((61.1394485812, 14.9884235849), (61.0890615882, 17.6593908996), (58.8142313342, 13.9388736763), align=None)
        Polygon((60.6843195856, 18.5933688616), (61.0890615882, 17.6593908996), (63.2342919986, 21.1679457361), (63.3688014578, 22.5139707888), (60.6843195856, 24.4434407321), align=None)
        Polygon((63.2342919986, 21.1679457361), (61.0890615882, 17.6593908996), (61.1394485812, 14.9884235849), (62.6865513623, 15.686750412), align=None)
        Polygon((57.4633404613, 10.2894352749), (57.1151301265, 11.1599694937), (53.5459388047, -20.8756942302), (61.8160143495, -20.8756942302), align=None)
        Polygon((58.8142313342, 13.9388736763), (57.1151301265, 11.1599694937), (57.4633404613, 10.2894352749), (61.8160143495, -20.8756942302), (61.1394485812, 14.9884235849), align=None)
    extrude(amount=F1_DEPTH)


with BuildPart() as f1f:
    # F0 (on Front) → F1, piece 6 (new body)
    with BuildSketch(Plane.XZ):
        Polygon((43.9176031324, 45.6142562554), (46.0443124175, 46.8102395535), (46.7024350744, 49.1597380108), (45.5064517763, 51.2864472959), (43.1569533189, 51.9445699527), (41.0302440339, 50.7485866547), (40.372121377, 48.3990881973), (41.5681046751, 46.2723789122), align=None)
    extrude(amount=F1_DEPTH)


with BuildPart() as f1g:
    # F0 (on Front) → F1, piece 7 (new body)
    with BuildSketch(Plane.XZ):
        Polygon((70.2545850033, 46.3708363733), (72.1358805895, 47.6307272911), (72.5752800444, 49.8518815691), (71.3153891265, 51.7331771553), (69.0942348486, 52.1725766101), (67.2129392624, 50.9126856923), (66.7735398075, 48.6915314144), (68.0334307253, 46.8102358282), align=None)
    extrude(amount=F1_DEPTH)


solid = Compound([f1.part, f1b.part, f1c.part, f1d.part, f1e.part, f1f.part, f1g.part])
